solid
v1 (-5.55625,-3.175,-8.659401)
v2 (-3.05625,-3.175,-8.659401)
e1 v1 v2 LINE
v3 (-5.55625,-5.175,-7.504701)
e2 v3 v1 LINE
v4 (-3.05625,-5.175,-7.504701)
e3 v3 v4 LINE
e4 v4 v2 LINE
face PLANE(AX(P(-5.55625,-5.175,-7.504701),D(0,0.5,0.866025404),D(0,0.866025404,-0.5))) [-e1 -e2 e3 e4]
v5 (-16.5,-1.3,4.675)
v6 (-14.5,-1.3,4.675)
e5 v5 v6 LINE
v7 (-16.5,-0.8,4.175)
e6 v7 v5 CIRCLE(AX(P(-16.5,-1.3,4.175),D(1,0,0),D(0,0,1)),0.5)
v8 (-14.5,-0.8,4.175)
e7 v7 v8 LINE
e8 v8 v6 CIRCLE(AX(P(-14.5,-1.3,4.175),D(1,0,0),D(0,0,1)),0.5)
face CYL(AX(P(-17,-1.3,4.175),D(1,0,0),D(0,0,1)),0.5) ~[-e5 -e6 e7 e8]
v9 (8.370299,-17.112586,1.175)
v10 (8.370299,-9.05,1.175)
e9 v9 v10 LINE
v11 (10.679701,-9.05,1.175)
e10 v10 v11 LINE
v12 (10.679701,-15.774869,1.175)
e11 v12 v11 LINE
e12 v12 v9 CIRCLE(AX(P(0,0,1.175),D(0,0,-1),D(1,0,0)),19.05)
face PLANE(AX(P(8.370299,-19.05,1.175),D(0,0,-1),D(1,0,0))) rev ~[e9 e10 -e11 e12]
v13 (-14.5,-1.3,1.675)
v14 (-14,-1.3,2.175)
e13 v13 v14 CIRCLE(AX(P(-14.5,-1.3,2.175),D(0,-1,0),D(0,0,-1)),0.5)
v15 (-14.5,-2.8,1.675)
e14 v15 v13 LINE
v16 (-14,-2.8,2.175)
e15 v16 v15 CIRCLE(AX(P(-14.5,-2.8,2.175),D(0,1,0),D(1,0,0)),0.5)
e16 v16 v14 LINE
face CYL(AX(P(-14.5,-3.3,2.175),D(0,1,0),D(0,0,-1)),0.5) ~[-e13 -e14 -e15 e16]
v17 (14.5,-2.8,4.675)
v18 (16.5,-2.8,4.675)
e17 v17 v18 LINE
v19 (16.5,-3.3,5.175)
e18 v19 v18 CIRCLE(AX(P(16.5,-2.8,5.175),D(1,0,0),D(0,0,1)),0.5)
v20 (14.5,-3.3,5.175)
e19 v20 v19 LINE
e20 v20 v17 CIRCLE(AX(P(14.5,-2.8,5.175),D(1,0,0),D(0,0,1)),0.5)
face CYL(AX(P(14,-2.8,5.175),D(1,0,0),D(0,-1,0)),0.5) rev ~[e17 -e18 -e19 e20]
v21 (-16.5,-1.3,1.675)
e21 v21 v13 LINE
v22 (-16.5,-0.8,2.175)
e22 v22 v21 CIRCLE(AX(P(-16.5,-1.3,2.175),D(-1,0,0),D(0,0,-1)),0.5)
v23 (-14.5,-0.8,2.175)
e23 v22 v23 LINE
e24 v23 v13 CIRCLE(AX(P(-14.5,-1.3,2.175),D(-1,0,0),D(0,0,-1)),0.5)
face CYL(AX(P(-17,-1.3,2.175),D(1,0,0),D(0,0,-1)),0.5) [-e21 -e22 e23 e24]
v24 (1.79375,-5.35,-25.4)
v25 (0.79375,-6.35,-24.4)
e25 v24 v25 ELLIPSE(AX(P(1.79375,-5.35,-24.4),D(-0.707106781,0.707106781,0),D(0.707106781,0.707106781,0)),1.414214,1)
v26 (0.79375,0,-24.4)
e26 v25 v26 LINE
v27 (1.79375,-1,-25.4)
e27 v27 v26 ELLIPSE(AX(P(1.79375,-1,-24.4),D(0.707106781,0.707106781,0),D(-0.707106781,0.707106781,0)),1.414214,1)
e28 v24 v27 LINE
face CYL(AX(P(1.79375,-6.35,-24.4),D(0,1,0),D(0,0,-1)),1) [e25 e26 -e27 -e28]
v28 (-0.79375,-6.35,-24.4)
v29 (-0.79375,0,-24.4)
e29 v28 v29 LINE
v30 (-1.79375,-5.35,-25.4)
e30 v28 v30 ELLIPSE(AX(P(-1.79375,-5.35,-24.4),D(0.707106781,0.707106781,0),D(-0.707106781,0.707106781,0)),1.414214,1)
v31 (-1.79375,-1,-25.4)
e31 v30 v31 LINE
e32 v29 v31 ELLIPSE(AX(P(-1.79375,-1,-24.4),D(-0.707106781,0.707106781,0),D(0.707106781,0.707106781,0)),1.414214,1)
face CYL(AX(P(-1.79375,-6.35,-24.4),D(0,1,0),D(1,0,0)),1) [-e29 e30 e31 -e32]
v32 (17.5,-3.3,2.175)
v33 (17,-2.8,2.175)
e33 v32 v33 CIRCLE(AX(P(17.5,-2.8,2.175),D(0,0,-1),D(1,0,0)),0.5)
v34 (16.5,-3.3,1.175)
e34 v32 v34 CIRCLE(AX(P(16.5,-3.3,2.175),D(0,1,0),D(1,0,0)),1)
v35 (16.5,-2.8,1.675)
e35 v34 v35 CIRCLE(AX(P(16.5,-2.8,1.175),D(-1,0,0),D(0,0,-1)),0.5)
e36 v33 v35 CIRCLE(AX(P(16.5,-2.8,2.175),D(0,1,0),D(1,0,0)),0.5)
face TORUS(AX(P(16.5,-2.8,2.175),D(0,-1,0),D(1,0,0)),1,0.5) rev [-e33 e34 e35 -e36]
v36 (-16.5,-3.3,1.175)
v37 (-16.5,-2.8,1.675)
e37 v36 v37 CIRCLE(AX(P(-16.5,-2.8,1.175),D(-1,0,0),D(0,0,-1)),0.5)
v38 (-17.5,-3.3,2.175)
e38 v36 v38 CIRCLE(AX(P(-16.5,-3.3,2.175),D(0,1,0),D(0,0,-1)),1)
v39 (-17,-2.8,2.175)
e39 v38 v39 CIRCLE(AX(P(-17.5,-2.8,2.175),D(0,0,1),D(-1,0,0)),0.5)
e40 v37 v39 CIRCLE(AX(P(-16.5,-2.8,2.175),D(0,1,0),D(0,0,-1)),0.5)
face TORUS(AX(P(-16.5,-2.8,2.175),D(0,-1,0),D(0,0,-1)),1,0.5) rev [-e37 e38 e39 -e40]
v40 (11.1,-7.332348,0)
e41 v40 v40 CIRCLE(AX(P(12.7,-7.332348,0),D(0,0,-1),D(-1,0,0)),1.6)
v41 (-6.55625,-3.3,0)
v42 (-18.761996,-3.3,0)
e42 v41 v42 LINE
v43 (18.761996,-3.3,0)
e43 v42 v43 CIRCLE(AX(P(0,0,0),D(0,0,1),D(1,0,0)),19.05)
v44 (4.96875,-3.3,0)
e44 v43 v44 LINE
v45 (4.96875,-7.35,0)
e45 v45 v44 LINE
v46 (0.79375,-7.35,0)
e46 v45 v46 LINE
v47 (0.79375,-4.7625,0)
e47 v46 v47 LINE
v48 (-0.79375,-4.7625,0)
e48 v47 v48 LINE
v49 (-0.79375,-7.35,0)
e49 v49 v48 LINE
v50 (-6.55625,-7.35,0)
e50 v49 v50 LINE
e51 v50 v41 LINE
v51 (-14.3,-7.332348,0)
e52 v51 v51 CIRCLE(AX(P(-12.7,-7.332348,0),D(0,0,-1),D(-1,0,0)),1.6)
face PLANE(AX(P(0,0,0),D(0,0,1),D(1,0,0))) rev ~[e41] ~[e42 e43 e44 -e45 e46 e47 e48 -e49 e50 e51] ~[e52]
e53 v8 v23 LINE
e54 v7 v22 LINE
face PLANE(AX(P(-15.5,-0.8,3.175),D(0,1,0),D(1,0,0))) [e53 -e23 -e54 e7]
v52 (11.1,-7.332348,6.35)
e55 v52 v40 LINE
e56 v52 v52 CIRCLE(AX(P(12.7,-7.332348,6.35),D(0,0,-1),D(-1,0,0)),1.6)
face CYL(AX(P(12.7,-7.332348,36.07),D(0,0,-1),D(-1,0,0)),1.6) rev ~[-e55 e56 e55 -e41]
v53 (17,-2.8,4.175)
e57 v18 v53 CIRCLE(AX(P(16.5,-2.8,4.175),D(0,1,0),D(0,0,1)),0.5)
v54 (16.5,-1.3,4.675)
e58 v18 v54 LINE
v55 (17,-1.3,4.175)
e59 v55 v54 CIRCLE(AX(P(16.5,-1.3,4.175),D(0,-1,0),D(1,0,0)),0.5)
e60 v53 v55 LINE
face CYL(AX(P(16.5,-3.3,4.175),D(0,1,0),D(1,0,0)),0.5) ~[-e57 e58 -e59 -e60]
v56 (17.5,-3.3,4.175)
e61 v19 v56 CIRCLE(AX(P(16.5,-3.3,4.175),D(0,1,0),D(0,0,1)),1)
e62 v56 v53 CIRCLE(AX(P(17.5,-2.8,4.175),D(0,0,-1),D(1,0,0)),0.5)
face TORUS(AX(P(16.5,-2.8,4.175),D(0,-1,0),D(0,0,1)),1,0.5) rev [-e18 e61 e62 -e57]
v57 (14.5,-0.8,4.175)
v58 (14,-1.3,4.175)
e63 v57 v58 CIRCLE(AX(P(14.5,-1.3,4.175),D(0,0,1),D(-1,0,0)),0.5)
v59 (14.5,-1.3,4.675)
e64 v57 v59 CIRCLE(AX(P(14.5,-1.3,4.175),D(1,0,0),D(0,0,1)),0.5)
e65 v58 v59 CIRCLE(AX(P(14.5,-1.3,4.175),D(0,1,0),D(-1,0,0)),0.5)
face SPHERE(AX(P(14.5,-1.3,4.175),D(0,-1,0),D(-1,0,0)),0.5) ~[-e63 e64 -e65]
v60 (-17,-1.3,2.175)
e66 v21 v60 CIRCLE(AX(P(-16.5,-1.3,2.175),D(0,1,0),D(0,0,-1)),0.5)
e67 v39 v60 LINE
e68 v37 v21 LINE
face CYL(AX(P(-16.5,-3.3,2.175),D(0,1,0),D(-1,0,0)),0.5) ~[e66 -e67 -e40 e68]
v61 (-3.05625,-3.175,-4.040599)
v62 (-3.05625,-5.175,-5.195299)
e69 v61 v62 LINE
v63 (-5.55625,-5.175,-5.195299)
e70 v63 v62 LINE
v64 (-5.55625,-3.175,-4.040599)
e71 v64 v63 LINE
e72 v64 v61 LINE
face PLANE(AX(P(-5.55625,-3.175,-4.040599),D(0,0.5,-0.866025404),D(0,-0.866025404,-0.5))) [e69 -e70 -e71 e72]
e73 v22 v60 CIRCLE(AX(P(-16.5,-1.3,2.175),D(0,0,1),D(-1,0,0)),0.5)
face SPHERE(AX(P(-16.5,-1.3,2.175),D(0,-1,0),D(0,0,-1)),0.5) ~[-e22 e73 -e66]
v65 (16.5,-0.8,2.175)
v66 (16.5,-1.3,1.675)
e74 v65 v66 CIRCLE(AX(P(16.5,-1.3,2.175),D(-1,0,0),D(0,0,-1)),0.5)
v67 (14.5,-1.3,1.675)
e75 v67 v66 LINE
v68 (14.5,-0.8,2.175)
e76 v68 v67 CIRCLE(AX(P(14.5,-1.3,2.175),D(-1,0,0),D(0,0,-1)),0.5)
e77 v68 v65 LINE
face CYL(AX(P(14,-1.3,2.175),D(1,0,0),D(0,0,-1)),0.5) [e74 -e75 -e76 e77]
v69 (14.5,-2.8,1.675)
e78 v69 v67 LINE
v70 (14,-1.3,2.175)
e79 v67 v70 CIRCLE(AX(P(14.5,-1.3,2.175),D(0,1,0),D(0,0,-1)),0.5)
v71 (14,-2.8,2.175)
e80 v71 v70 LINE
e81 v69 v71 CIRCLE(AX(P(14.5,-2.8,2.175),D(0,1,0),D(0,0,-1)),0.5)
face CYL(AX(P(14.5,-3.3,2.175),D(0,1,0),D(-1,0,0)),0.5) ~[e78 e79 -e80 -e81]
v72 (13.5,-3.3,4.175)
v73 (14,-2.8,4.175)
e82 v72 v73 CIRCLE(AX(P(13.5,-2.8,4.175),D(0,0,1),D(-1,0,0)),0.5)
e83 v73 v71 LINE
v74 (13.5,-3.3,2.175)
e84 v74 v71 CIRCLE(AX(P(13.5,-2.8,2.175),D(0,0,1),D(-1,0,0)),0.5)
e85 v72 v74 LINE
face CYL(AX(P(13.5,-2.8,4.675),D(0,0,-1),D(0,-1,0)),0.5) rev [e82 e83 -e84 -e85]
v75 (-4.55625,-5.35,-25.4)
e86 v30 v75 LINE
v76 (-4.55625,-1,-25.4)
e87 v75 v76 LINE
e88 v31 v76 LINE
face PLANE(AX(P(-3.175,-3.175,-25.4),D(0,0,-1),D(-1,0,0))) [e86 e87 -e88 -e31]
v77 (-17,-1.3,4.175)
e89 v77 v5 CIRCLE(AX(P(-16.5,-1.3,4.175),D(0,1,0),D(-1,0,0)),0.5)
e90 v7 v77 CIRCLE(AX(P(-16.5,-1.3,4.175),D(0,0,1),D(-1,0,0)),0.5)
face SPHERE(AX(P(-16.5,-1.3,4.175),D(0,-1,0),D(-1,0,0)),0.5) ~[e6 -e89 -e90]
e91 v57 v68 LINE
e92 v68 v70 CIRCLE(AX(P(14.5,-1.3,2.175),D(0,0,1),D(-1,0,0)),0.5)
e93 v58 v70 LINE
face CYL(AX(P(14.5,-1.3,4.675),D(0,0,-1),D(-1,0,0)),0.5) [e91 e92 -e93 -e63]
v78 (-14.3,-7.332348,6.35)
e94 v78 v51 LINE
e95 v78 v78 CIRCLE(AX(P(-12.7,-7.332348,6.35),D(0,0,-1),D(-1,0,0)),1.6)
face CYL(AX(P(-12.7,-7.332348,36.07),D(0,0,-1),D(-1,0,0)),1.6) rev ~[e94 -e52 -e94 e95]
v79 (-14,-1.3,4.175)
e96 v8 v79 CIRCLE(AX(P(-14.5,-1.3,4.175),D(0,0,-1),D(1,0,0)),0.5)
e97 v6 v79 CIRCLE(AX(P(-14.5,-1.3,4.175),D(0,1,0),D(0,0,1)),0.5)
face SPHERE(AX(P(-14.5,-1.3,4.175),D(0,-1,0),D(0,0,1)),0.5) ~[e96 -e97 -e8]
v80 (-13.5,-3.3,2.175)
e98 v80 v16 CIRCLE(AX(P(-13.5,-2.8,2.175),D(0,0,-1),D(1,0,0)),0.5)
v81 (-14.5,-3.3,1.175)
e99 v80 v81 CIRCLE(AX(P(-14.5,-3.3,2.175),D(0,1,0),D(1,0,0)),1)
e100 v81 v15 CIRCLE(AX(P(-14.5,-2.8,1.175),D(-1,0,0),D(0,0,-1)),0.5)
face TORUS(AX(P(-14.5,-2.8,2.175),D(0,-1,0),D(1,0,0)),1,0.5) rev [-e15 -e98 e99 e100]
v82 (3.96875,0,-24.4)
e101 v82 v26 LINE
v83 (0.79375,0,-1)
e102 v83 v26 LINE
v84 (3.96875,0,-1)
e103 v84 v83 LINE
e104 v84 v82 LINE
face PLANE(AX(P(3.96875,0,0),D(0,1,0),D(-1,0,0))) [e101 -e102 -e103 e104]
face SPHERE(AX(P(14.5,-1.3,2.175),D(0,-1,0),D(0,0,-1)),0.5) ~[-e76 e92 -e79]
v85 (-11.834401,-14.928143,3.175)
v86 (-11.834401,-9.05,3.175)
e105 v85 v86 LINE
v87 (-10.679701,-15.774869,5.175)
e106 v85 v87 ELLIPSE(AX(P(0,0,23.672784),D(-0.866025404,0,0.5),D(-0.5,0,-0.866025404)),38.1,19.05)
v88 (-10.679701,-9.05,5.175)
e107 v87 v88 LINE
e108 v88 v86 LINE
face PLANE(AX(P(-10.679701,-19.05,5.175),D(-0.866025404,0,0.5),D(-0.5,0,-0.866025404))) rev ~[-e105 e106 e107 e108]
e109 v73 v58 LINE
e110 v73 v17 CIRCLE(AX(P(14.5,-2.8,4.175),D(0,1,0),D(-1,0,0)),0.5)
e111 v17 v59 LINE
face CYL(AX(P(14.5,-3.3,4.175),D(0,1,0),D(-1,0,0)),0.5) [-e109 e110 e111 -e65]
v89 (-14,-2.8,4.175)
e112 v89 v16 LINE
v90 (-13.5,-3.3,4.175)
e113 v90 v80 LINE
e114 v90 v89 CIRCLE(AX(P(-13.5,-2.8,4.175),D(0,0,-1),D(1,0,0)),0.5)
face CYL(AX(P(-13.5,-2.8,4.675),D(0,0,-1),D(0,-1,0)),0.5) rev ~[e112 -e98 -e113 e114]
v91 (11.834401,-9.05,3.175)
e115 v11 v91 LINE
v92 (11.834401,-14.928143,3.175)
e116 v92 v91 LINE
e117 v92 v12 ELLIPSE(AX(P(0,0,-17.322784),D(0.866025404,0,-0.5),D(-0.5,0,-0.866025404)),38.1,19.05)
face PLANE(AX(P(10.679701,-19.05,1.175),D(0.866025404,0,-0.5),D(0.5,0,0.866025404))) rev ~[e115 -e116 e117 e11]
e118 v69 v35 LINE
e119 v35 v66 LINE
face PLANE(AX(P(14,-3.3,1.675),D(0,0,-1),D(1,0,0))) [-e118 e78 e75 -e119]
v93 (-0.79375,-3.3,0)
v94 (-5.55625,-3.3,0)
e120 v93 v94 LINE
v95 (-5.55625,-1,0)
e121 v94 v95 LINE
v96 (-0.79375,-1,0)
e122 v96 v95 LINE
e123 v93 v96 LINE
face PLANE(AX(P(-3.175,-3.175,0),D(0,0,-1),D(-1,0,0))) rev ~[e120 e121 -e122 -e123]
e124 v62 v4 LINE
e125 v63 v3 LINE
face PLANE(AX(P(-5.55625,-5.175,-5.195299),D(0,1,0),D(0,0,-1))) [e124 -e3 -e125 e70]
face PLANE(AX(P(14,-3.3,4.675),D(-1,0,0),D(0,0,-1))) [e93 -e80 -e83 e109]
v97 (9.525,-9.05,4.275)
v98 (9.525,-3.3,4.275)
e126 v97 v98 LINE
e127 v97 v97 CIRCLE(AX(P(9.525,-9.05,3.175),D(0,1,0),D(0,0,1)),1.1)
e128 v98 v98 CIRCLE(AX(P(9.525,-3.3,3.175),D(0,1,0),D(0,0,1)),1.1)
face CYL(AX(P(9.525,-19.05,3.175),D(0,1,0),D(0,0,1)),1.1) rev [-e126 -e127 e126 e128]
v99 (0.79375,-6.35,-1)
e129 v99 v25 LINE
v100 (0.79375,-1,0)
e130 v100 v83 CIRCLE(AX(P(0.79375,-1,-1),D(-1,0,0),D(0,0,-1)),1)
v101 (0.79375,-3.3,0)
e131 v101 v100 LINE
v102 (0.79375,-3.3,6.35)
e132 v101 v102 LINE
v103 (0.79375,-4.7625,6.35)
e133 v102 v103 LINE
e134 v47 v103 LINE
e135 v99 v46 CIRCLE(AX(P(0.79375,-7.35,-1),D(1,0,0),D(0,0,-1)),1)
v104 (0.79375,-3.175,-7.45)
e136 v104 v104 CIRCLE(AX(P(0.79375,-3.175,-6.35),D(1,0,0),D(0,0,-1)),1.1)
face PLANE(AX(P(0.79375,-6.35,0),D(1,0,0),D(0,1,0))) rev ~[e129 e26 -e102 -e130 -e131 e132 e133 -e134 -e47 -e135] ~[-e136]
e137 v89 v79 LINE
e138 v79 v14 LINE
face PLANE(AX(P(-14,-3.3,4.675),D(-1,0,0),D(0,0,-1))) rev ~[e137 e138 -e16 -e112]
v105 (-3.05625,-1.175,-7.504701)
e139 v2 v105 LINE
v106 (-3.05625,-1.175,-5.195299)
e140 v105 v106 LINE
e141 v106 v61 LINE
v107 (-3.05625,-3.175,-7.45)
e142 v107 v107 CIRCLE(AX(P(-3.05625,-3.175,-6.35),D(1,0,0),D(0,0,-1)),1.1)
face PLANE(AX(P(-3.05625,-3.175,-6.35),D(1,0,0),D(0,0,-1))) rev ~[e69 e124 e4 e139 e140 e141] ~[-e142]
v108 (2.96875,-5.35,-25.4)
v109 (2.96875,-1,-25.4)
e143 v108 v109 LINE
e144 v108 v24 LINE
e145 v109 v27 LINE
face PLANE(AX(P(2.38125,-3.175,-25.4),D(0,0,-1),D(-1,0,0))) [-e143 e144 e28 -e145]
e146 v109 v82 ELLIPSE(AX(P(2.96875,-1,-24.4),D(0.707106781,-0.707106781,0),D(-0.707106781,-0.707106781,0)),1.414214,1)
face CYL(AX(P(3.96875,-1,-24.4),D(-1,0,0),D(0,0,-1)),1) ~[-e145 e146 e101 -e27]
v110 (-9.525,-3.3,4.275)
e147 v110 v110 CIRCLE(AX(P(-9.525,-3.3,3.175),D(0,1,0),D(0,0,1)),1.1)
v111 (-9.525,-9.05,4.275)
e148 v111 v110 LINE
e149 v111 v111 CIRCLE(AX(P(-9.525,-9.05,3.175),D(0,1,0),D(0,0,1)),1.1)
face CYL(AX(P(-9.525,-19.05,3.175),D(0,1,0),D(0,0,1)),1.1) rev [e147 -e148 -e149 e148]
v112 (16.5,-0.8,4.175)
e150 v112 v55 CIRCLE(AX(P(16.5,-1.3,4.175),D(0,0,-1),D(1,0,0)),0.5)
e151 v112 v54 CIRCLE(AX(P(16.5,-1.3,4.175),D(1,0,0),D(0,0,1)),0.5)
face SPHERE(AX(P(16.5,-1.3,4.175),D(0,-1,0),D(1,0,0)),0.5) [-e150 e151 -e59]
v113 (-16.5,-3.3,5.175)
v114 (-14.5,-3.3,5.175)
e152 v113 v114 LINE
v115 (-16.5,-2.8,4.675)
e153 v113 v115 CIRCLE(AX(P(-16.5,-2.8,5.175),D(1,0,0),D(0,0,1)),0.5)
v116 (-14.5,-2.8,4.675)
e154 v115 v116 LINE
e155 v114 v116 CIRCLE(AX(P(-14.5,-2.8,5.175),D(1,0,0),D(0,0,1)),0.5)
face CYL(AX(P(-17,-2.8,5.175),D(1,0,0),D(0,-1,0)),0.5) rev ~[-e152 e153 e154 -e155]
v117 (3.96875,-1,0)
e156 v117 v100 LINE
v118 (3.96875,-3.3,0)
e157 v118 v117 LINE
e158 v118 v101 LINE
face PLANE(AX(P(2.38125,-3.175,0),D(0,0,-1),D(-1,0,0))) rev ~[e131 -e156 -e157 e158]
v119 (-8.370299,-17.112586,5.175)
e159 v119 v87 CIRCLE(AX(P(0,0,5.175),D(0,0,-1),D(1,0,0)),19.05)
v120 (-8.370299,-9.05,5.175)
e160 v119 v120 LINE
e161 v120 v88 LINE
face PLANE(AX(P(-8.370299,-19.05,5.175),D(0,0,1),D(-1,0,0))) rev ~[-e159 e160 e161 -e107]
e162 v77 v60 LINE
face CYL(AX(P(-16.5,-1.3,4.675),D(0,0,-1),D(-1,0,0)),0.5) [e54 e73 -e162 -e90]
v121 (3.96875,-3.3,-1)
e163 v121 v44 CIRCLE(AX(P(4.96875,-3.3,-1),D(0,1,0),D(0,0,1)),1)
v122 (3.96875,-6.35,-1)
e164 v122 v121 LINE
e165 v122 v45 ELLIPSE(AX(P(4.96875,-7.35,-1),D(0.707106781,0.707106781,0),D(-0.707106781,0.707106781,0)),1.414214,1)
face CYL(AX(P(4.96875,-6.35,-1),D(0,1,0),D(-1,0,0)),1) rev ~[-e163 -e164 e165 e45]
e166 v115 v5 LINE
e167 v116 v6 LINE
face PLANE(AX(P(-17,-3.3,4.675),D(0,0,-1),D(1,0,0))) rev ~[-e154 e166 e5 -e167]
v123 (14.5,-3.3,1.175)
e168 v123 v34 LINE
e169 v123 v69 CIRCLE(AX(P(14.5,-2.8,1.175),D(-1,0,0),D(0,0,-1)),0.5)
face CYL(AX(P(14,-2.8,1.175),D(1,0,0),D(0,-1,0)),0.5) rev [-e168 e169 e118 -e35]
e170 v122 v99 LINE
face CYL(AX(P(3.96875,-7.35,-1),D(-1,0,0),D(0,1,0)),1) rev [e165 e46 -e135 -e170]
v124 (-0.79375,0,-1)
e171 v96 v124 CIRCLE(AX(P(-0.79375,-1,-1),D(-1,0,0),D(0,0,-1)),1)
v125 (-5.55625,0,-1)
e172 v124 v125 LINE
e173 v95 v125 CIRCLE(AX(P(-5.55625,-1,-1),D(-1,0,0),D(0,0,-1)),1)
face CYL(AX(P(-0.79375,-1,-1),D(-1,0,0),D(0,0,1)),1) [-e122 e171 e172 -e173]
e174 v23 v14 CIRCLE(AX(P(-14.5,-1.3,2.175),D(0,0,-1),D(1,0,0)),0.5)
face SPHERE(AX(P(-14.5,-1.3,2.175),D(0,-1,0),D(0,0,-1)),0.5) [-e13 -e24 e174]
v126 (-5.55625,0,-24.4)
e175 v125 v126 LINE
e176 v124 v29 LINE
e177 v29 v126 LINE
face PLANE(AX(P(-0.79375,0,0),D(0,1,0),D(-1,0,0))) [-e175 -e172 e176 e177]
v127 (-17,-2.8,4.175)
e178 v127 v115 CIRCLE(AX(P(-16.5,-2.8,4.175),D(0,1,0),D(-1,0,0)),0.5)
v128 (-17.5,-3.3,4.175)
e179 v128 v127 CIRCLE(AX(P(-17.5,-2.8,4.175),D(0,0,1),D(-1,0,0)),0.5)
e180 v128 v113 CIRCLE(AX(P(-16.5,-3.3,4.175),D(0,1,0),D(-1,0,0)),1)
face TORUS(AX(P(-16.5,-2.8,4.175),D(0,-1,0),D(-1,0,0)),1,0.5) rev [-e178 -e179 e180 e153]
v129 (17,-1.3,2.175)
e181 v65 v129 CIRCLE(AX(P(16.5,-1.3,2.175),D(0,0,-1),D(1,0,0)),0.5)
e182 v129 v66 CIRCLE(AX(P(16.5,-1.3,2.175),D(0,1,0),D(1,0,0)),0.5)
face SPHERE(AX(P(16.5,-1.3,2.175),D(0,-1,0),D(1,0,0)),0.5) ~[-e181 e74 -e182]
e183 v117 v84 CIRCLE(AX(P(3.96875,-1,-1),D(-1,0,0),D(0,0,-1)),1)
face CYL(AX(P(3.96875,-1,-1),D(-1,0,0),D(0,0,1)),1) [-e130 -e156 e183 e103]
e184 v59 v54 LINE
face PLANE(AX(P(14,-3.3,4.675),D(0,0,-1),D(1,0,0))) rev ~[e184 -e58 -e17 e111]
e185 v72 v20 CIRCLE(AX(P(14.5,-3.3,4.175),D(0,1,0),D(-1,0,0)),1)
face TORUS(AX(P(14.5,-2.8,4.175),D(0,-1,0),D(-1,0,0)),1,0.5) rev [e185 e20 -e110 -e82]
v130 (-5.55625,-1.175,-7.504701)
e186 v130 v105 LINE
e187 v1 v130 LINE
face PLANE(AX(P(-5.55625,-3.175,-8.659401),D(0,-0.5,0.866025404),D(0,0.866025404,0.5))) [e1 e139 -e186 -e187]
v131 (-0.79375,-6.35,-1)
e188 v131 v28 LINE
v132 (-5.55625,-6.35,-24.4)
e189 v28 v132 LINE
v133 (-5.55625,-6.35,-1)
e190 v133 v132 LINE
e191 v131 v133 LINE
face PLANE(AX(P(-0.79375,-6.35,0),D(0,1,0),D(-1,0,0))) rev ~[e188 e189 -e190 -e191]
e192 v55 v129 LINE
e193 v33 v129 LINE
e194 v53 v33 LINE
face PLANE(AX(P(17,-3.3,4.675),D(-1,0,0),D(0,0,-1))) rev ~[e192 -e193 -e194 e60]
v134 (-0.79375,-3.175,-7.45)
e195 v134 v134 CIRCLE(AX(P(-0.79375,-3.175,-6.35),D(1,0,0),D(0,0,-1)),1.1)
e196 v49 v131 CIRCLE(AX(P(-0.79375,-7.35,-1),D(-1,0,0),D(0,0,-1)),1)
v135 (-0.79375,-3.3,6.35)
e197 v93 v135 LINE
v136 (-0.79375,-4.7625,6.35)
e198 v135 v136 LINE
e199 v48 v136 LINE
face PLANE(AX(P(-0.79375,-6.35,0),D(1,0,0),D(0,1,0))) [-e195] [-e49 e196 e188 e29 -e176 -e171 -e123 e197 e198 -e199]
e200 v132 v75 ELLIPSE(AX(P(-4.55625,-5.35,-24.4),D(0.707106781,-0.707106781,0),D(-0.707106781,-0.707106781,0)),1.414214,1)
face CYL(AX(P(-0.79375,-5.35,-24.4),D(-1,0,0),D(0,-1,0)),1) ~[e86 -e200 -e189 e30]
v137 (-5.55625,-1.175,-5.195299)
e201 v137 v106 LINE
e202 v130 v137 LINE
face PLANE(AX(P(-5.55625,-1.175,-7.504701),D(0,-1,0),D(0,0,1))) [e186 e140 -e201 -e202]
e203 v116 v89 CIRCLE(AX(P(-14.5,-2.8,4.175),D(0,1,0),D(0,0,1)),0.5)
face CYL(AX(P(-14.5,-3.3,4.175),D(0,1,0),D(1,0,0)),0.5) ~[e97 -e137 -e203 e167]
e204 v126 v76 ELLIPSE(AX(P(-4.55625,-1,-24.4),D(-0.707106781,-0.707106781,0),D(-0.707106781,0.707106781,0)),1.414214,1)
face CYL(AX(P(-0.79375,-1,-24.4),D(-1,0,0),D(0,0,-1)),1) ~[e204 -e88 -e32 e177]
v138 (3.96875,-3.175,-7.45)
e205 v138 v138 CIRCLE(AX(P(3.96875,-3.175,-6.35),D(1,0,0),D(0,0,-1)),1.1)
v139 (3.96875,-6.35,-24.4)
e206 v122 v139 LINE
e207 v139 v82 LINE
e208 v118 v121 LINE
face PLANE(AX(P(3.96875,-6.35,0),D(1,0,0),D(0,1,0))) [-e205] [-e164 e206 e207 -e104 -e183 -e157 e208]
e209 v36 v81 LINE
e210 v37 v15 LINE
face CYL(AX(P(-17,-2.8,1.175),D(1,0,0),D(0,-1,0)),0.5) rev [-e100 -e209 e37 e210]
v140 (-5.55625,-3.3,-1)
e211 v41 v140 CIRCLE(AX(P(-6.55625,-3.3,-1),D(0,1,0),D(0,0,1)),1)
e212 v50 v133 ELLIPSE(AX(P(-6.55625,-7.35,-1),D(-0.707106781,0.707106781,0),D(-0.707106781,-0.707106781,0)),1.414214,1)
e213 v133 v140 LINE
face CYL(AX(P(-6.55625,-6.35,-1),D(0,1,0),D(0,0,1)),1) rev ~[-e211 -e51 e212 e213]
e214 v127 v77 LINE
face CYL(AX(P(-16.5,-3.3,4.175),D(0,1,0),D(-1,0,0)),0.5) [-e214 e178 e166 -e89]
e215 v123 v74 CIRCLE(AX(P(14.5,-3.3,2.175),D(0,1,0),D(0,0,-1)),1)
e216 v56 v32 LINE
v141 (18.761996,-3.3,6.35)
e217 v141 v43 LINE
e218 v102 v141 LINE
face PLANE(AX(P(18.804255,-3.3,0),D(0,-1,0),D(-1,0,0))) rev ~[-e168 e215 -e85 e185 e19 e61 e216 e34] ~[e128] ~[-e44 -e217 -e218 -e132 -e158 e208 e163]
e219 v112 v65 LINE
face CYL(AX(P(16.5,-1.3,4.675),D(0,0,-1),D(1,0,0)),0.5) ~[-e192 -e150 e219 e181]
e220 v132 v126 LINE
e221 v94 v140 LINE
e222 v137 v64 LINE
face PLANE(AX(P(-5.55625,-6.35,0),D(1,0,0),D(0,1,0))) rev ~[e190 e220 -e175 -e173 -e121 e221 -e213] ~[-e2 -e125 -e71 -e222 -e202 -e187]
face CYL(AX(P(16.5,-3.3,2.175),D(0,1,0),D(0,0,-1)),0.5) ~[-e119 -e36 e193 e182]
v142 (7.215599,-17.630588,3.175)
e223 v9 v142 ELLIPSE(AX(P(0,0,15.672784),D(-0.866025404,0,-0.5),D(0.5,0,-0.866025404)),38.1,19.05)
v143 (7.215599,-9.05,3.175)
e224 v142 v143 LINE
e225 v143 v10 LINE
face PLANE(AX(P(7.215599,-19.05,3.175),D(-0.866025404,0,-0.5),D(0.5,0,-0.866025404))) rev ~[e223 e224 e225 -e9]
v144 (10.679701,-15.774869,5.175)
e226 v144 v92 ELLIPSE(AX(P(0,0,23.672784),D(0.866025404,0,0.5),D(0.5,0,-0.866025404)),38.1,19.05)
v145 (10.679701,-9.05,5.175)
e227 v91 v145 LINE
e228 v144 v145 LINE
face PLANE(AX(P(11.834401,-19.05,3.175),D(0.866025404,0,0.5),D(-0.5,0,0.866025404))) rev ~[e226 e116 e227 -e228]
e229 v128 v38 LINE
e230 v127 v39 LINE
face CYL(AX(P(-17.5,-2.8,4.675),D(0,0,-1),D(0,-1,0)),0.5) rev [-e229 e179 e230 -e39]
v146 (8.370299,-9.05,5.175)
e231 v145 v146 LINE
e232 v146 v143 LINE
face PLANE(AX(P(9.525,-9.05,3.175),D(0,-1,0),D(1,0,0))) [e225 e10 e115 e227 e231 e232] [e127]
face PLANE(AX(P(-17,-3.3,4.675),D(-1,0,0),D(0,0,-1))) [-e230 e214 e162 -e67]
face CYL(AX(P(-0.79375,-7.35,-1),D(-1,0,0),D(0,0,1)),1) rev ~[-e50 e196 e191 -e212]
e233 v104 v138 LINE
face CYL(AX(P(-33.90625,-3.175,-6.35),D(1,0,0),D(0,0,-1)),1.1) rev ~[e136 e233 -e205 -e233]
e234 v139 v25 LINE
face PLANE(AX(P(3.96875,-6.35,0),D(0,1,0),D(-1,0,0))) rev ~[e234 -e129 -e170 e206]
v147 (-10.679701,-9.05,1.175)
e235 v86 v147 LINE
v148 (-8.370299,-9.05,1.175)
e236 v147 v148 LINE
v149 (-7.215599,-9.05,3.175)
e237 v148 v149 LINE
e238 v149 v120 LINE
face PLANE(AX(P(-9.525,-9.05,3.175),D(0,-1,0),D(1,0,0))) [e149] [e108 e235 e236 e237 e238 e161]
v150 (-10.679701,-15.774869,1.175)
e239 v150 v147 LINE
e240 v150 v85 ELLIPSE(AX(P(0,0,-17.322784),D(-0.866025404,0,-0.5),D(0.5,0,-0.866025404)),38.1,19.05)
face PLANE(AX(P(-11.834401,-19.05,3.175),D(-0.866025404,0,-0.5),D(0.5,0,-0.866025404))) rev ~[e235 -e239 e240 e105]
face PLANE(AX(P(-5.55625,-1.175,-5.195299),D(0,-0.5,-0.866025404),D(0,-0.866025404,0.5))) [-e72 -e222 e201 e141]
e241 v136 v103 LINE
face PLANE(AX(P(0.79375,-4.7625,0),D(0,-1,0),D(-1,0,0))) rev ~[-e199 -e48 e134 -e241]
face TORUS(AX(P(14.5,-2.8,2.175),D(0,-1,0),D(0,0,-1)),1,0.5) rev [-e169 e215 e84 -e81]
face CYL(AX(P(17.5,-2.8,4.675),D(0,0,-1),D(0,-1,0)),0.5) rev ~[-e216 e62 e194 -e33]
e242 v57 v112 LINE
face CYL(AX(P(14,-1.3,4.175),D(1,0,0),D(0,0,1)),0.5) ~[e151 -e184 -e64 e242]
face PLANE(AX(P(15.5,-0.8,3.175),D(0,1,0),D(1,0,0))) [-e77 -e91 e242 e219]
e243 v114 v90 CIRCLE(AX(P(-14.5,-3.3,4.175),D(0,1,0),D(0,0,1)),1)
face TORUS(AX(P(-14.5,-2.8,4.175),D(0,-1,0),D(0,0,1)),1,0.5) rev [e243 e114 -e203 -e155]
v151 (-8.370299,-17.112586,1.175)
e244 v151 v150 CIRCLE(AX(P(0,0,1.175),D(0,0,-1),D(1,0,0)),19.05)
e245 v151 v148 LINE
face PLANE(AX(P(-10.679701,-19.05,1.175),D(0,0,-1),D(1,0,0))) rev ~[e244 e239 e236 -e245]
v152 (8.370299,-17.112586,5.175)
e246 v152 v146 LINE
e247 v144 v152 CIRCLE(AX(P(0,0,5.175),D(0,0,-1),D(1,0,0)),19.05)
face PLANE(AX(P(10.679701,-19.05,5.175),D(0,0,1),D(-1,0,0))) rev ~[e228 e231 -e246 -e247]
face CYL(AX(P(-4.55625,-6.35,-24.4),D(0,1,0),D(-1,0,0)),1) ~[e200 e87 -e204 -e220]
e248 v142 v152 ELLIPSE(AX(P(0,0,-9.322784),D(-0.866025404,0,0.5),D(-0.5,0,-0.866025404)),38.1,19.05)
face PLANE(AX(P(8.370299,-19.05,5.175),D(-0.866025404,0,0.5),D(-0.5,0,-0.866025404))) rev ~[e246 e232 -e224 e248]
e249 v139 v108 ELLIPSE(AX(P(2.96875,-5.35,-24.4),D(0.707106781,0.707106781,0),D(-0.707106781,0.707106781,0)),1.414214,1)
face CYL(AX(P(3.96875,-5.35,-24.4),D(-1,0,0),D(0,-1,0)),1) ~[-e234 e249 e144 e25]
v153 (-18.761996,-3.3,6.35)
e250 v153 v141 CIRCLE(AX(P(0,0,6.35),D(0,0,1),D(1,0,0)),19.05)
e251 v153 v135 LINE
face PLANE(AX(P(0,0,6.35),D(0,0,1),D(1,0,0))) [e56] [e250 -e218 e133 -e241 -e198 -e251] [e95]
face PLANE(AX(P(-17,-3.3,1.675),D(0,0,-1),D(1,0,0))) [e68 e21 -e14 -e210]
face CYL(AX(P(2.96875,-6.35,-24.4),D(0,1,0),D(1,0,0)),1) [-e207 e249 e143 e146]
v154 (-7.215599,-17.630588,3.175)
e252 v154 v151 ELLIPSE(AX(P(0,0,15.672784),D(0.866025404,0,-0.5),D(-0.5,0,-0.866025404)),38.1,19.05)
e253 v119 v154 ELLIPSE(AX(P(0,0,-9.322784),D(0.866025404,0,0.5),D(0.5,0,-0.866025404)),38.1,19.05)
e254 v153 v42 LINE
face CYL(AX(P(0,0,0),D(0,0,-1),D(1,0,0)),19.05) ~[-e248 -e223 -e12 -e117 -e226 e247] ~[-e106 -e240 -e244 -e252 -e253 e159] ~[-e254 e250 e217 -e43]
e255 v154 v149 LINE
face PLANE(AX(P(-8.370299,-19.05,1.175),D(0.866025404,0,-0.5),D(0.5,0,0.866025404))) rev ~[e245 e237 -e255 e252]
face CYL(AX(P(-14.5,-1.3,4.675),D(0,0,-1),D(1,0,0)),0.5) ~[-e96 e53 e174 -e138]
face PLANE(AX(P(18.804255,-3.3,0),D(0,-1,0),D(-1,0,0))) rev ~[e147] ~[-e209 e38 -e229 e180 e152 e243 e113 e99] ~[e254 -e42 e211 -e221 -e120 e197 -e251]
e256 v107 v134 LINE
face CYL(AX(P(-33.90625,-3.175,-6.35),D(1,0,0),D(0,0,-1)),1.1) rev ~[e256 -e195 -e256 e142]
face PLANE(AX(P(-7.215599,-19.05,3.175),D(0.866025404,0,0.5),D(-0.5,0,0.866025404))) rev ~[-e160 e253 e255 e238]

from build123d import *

# Parameters (mm, degrees)
SKETCH1_R                     = 19.05
SKETCH1_R_2                   = 0.5
BOSS_EXTRUDE1_DEPTH           = 6.35
M3_CLEARANCE_HOLE1_D          = 3.2
M3_CLEARANCE_HOLE1_DEPTH      = 29.72
M3_CLEARANCE_HOLE1_TIP        = 0.96137699
SKETCH4_W                     = 37.608509676
SKETCH4_H                     = 0.25
CUT_EXTRUDE1_DEPTH            = 28.679008291
CBORE_FOR_M2_SHCS1_AT_2_COUNT = 2
CBORE_FOR_M2_SHCS1_AT_2_PITCH = 19.05
CUT_EXTRUDE2_DEPTH            = 10
FILLET1_R                     = 2.38125
SKETCH12_W                    = 55.779861043
SKETCH12_H                    = 27.835929003
CUT_EXTRUDE3_DEPTH            = 28.679008452
SKETCH13_W                    = 3
SKETCH13_H                    = 3
BOSS_EXTRUDE2_DEPTH           = 2.5
FILLET2_R                     = 0.5
SKETCH14_W                    = 1.5875
SKETCH14_H                    = 1.4625
CUT_EXTRUDE4_DEPTH            = 28.481584743
SKETCH15_W                    = 3.175
SKETCH15_H                    = 6.35
SKETCH15_W_2                  = 4.7625
BOSS_EXTRUDE3_DEPTH           = 25.4
M2_CLEARANCE_HOLE1_D          = 2.2
M2_CLEARANCE_HOLE1_DEPTH      = 28.35
M2_CLEARANCE_HOLE1_TIP        = 0.660946681
CUT_EXTRUDE5_DEPTH            = 2.5
FILLET3_R                     = 1
FILLET4_R                     = 1


with BuildPart() as part:
    # Sketch1 → Boss-Extrude1 (new body)
    with BuildSketch(Plane.XY):
        Circle(SKETCH1_R)
        with Locations((-12.7, 0)):
            Circle(SKETCH1_R_2, mode=Mode.SUBTRACT)
        with Locations((12.7, 0)):
            Circle(SKETCH1_R_2, mode=Mode.SUBTRACT)
        Circle(SKETCH1_R_2, mode=Mode.SUBTRACT)
    extrude(amount=BOSS_EXTRUDE1_DEPTH)

    # M3 Clearance Hole1
    with Locations(Plane(origin=(-15.665967818, 20.219646462, 6.35), x_dir=(1, 0, 0), z_dir=(0, 0, 1))):
        with Locations((15.665967818, -5.554949625), (2.965967818, -27.551994881), (28.365967818, -27.551994881)):
            Hole(M3_CLEARANCE_HOLE1_D / 2, depth=M3_CLEARANCE_HOLE1_DEPTH)
            with Locations((0, 0, -(M3_CLEARANCE_HOLE1_DEPTH + M3_CLEARANCE_HOLE1_TIP / 2))):  # 118° drill point
                Cone(0, M3_CLEARANCE_HOLE1_D / 2, M3_CLEARANCE_HOLE1_TIP, mode=Mode.SUBTRACT)

    # Sketch4 → Cut-Extrude1 (cut, through all)
    with BuildSketch(Plane(origin=(0, 0, 0), x_dir=(-1, 0, 0), z_dir=(0, 0, -1))):
        with Locations((0, -3.175)):
            Rectangle(SKETCH4_W, SKETCH4_H)
    extrude(amount=-CUT_EXTRUDE1_DEPTH, mode=Mode.SUBTRACT)


with BuildPart() as cut_extrude1_piece_1:
    # of the separate pieces the step leaves, piece 1, a body of its own (cut_extrude1_pieces)
    add(part.part.solids().sort_by_distance((18.804254838, -3.05, 0))[0])


with BuildPart() as cut_extrude1_piece_2:
    # of the separate pieces the step leaves, piece 2, a body of its own (cut_extrude1_pieces)
    add(part.part.solids().sort_by_distance((-18.761996162, -3.3, 0))[0])


with BuildPart() as cbore_for_m2_shcs1_tool:
    # Sketch9 → CBORE for M2 SHCS1 (revolve)
    with BuildSketch(Plane(origin=(-9.525, 19.05, 3.175), x_dir=(0, 0, 1), z_dir=(1, 0, 0))):
        Polygon((0, 0), (0, 38.1), (1.1, 38.1), (1.1, 2), (2.2, 2), (2.2, 0), align=None)
    cbore_for_m2_shcs1 = revolve(axis=Axis((-9.525, 25.4, 3.175), (0, -1, 0)))


with BuildPart() as cut_extrude1_piece_1_1:
    add(cut_extrude1_piece_1.part)

    # CBORE for M2 SHCS1: cut by cbore_for_m2_shcs1_tool
    add(cbore_for_m2_shcs1_tool.part, mode=Mode.SUBTRACT)


with BuildPart() as cut_extrude1_piece_2_1:
    add(cut_extrude1_piece_2.part)

    # CBORE for M2 SHCS1: cut by cbore_for_m2_shcs1_tool
    add(cbore_for_m2_shcs1_tool.part, mode=Mode.SUBTRACT)


with BuildPart() as cbore_for_m2_shcs1_at_2_tool:
    # CBORE for M2 SHCS1 at 2: CBORE for M2 SHCS1 ×2
    with Locations(*[(i * CBORE_FOR_M2_SHCS1_AT_2_PITCH, 0, 0) for i in range(1, CBORE_FOR_M2_SHCS1_AT_2_COUNT)]):
        add(cbore_for_m2_shcs1)


with BuildPart() as cut_extrude1_piece_1_2:
    add(cut_extrude1_piece_1_1.part)

    # CBORE for M2 SHCS1 at 2: cut by cbore_for_m2_shcs1_at_2_tool
    add(cbore_for_m2_shcs1_at_2_tool.part, mode=Mode.SUBTRACT)

    # Fillet1
    fillet1_edges = [cut_extrude1_piece_1_2.edges().sort_by_distance(p)[0] for p in [
        (-0.5, 0, 0),
        (-13.2, 0, 0),
        (12.2, 0, 0),
        (-13.2, 0, 6.35),
        (12.2, 0, 6.35),
        (-0.5, 0, 6.35),
    ]]
    fillet(fillet1_edges, radius=FILLET1_R)

    # Sketch12 → Cut-Extrude3 (cut, through all)
    with BuildSketch(Plane.XY):
        with Locations((0.042756797, 10.867964502)):
            Rectangle(SKETCH12_W, SKETCH12_H)
    extrude(amount=CUT_EXTRUDE3_DEPTH, mode=Mode.SUBTRACT)


with BuildPart() as cut_extrude1_piece_2_2:
    add(cut_extrude1_piece_2_1.part)

    # CBORE for M2 SHCS1 at 2: cut by cbore_for_m2_shcs1_at_2_tool
    add(cbore_for_m2_shcs1_at_2_tool.part, mode=Mode.SUBTRACT)

    # Sketch11 → Cut-Extrude2 (cut)
    with BuildSketch(Plane.XZ.offset(19.05)):
        Polygon((-10.679700538, 5.175), (-11.834401077, 3.175), (-10.679700538, 1.175), (-8.370299462, 1.175), (-7.215598923, 3.175), (-8.370299462, 5.175), align=None)
        Polygon((8.370299462, 5.175), (7.215598923, 3.175), (8.370299462, 1.175), (10.679700538, 1.175), (11.834401077, 3.175), (10.679700538, 5.175), align=None)
    extrude(amount=-CUT_EXTRUDE2_DEPTH, mode=Mode.SUBTRACT)

    # Sketch13 → Boss-Extrude2 (add)
    with BuildSketch(Plane(origin=(0, -3.3, 0), x_dir=(1, 0, 0), z_dir=(0, 1, 0))):
        with Locations((-15.5, -3.175)):
            Rectangle(SKETCH13_W, SKETCH13_H)
        with Locations((15.5, -3.175)):
            Rectangle(SKETCH13_W, SKETCH13_H)
    extrude(amount=BOSS_EXTRUDE2_DEPTH)

    # Fillet2
    fillet2_edges = [cut_extrude1_piece_2_2.edges().sort_by_distance(p)[0] for p in [
        (17, -3.3, 3.175),
        (17, -2.05, 4.675),
        (15.5, -3.3, 1.675),
        (17, -2.05, 1.675),
        (14, -3.3, 3.175),
        (14, -2.05, 1.675),
        (15.5, -3.3, 4.675),
        (14, -2.05, 4.675),
        (17, -0.8, 3.175),
        (15.5, -0.8, 1.675),
        (14, -0.8, 3.175),
        (15.5, -0.8, 4.675),
        (-15.5, -3.3, 1.675),
        (-14, -2.05, 1.675),
        (-17, -3.3, 3.175),
        (-17, -2.05, 1.675),
        (-15.5, -3.3, 4.675),
        (-17, -2.05, 4.675),
        (-14, -3.3, 3.175),
        (-14, -2.05, 4.675),
        (-15.5, -0.8, 1.675),
        (-17, -0.8, 3.175),
        (-15.5, -0.8, 4.675),
        (-14, -0.8, 3.175),
    ]]
    fillet(fillet2_edges, radius=FILLET2_R)

    # Sketch14 → Cut-Extrude4 (cut, through all)
    with BuildSketch(Plane(origin=(0, 0, 0), x_dir=(-1, 0, 0), z_dir=(0, 0, -1))):
        with Locations((0, -4.03125)):
            Rectangle(SKETCH14_W, SKETCH14_H)
    extrude(amount=-CUT_EXTRUDE4_DEPTH, mode=Mode.SUBTRACT)

    # Sketch15 → Boss-Extrude3 (add)
    with BuildSketch(Plane(origin=(0, 0, 0), x_dir=(-1, 0, 0), z_dir=(0, 0, -1))):
        with Locations((-2.38125, -3.175)):
            Rectangle(SKETCH15_W, SKETCH15_H)
        with Locations((3.175, -3.175)):
            Rectangle(SKETCH15_W_2, SKETCH15_H)
    extrude(amount=BOSS_EXTRUDE3_DEPTH)

    # M2 Clearance Hole1
    with Locations(Plane.ZY.offset(5.55625)):
        with Locations((-6.35, -3.175)):
            Hole(M2_CLEARANCE_HOLE1_D / 2, depth=M2_CLEARANCE_HOLE1_DEPTH)
            with Locations((0, 0, -(M2_CLEARANCE_HOLE1_DEPTH + M2_CLEARANCE_HOLE1_TIP / 2))):  # 118° drill point
                Cone(0, M2_CLEARANCE_HOLE1_D / 2, M2_CLEARANCE_HOLE1_TIP, mode=Mode.SUBTRACT)

    # Sketch18 → Cut-Extrude5 (cut)
    with BuildSketch(Plane.ZY.offset(5.55625)):
        Polygon((-7.504700538, -1.175), (-5.195299462, -1.175), (-4.040598923, -3.175), (-5.195299462, -5.175), (-7.504700538, -5.175), (-8.659401077, -3.175), align=None)
    extrude(amount=-CUT_EXTRUDE5_DEPTH, mode=Mode.SUBTRACT)

    # Fillet3
    fillet3_edges = [cut_extrude1_piece_2_2.edges().sort_by_distance(p)[0] for p in [
        (3.96875, -4.825, 0),
        (2.38125, -6.35, 0),
        (0.79375, -3.175, -25.4),
        (2.38125, 0, -25.4),
        (3.96875, -3.175, -25.4),
        (2.38125, -6.35, -25.4),
        (-3.175, -6.35, 0),
        (-5.55625, -4.825, 0),
        (-0.79375, -3.175, -25.4),
        (-3.175, -6.35, -25.4),
        (-5.55625, -3.175, -25.4),
        (-3.175, 0, -25.4),
    ]]
    fillet(fillet3_edges, radius=FILLET3_R)

    # Fillet4
    fillet4_edges = [cut_extrude1_piece_2_2.edges().sort_by_distance(p)[0] for p in [
        (2.38125, 0, 0),
        (-3.175, 0, 0),
    ]]
    fillet(fillet4_edges, radius=FILLET4_R)


solid = cut_extrude1_piece_2_2.part
